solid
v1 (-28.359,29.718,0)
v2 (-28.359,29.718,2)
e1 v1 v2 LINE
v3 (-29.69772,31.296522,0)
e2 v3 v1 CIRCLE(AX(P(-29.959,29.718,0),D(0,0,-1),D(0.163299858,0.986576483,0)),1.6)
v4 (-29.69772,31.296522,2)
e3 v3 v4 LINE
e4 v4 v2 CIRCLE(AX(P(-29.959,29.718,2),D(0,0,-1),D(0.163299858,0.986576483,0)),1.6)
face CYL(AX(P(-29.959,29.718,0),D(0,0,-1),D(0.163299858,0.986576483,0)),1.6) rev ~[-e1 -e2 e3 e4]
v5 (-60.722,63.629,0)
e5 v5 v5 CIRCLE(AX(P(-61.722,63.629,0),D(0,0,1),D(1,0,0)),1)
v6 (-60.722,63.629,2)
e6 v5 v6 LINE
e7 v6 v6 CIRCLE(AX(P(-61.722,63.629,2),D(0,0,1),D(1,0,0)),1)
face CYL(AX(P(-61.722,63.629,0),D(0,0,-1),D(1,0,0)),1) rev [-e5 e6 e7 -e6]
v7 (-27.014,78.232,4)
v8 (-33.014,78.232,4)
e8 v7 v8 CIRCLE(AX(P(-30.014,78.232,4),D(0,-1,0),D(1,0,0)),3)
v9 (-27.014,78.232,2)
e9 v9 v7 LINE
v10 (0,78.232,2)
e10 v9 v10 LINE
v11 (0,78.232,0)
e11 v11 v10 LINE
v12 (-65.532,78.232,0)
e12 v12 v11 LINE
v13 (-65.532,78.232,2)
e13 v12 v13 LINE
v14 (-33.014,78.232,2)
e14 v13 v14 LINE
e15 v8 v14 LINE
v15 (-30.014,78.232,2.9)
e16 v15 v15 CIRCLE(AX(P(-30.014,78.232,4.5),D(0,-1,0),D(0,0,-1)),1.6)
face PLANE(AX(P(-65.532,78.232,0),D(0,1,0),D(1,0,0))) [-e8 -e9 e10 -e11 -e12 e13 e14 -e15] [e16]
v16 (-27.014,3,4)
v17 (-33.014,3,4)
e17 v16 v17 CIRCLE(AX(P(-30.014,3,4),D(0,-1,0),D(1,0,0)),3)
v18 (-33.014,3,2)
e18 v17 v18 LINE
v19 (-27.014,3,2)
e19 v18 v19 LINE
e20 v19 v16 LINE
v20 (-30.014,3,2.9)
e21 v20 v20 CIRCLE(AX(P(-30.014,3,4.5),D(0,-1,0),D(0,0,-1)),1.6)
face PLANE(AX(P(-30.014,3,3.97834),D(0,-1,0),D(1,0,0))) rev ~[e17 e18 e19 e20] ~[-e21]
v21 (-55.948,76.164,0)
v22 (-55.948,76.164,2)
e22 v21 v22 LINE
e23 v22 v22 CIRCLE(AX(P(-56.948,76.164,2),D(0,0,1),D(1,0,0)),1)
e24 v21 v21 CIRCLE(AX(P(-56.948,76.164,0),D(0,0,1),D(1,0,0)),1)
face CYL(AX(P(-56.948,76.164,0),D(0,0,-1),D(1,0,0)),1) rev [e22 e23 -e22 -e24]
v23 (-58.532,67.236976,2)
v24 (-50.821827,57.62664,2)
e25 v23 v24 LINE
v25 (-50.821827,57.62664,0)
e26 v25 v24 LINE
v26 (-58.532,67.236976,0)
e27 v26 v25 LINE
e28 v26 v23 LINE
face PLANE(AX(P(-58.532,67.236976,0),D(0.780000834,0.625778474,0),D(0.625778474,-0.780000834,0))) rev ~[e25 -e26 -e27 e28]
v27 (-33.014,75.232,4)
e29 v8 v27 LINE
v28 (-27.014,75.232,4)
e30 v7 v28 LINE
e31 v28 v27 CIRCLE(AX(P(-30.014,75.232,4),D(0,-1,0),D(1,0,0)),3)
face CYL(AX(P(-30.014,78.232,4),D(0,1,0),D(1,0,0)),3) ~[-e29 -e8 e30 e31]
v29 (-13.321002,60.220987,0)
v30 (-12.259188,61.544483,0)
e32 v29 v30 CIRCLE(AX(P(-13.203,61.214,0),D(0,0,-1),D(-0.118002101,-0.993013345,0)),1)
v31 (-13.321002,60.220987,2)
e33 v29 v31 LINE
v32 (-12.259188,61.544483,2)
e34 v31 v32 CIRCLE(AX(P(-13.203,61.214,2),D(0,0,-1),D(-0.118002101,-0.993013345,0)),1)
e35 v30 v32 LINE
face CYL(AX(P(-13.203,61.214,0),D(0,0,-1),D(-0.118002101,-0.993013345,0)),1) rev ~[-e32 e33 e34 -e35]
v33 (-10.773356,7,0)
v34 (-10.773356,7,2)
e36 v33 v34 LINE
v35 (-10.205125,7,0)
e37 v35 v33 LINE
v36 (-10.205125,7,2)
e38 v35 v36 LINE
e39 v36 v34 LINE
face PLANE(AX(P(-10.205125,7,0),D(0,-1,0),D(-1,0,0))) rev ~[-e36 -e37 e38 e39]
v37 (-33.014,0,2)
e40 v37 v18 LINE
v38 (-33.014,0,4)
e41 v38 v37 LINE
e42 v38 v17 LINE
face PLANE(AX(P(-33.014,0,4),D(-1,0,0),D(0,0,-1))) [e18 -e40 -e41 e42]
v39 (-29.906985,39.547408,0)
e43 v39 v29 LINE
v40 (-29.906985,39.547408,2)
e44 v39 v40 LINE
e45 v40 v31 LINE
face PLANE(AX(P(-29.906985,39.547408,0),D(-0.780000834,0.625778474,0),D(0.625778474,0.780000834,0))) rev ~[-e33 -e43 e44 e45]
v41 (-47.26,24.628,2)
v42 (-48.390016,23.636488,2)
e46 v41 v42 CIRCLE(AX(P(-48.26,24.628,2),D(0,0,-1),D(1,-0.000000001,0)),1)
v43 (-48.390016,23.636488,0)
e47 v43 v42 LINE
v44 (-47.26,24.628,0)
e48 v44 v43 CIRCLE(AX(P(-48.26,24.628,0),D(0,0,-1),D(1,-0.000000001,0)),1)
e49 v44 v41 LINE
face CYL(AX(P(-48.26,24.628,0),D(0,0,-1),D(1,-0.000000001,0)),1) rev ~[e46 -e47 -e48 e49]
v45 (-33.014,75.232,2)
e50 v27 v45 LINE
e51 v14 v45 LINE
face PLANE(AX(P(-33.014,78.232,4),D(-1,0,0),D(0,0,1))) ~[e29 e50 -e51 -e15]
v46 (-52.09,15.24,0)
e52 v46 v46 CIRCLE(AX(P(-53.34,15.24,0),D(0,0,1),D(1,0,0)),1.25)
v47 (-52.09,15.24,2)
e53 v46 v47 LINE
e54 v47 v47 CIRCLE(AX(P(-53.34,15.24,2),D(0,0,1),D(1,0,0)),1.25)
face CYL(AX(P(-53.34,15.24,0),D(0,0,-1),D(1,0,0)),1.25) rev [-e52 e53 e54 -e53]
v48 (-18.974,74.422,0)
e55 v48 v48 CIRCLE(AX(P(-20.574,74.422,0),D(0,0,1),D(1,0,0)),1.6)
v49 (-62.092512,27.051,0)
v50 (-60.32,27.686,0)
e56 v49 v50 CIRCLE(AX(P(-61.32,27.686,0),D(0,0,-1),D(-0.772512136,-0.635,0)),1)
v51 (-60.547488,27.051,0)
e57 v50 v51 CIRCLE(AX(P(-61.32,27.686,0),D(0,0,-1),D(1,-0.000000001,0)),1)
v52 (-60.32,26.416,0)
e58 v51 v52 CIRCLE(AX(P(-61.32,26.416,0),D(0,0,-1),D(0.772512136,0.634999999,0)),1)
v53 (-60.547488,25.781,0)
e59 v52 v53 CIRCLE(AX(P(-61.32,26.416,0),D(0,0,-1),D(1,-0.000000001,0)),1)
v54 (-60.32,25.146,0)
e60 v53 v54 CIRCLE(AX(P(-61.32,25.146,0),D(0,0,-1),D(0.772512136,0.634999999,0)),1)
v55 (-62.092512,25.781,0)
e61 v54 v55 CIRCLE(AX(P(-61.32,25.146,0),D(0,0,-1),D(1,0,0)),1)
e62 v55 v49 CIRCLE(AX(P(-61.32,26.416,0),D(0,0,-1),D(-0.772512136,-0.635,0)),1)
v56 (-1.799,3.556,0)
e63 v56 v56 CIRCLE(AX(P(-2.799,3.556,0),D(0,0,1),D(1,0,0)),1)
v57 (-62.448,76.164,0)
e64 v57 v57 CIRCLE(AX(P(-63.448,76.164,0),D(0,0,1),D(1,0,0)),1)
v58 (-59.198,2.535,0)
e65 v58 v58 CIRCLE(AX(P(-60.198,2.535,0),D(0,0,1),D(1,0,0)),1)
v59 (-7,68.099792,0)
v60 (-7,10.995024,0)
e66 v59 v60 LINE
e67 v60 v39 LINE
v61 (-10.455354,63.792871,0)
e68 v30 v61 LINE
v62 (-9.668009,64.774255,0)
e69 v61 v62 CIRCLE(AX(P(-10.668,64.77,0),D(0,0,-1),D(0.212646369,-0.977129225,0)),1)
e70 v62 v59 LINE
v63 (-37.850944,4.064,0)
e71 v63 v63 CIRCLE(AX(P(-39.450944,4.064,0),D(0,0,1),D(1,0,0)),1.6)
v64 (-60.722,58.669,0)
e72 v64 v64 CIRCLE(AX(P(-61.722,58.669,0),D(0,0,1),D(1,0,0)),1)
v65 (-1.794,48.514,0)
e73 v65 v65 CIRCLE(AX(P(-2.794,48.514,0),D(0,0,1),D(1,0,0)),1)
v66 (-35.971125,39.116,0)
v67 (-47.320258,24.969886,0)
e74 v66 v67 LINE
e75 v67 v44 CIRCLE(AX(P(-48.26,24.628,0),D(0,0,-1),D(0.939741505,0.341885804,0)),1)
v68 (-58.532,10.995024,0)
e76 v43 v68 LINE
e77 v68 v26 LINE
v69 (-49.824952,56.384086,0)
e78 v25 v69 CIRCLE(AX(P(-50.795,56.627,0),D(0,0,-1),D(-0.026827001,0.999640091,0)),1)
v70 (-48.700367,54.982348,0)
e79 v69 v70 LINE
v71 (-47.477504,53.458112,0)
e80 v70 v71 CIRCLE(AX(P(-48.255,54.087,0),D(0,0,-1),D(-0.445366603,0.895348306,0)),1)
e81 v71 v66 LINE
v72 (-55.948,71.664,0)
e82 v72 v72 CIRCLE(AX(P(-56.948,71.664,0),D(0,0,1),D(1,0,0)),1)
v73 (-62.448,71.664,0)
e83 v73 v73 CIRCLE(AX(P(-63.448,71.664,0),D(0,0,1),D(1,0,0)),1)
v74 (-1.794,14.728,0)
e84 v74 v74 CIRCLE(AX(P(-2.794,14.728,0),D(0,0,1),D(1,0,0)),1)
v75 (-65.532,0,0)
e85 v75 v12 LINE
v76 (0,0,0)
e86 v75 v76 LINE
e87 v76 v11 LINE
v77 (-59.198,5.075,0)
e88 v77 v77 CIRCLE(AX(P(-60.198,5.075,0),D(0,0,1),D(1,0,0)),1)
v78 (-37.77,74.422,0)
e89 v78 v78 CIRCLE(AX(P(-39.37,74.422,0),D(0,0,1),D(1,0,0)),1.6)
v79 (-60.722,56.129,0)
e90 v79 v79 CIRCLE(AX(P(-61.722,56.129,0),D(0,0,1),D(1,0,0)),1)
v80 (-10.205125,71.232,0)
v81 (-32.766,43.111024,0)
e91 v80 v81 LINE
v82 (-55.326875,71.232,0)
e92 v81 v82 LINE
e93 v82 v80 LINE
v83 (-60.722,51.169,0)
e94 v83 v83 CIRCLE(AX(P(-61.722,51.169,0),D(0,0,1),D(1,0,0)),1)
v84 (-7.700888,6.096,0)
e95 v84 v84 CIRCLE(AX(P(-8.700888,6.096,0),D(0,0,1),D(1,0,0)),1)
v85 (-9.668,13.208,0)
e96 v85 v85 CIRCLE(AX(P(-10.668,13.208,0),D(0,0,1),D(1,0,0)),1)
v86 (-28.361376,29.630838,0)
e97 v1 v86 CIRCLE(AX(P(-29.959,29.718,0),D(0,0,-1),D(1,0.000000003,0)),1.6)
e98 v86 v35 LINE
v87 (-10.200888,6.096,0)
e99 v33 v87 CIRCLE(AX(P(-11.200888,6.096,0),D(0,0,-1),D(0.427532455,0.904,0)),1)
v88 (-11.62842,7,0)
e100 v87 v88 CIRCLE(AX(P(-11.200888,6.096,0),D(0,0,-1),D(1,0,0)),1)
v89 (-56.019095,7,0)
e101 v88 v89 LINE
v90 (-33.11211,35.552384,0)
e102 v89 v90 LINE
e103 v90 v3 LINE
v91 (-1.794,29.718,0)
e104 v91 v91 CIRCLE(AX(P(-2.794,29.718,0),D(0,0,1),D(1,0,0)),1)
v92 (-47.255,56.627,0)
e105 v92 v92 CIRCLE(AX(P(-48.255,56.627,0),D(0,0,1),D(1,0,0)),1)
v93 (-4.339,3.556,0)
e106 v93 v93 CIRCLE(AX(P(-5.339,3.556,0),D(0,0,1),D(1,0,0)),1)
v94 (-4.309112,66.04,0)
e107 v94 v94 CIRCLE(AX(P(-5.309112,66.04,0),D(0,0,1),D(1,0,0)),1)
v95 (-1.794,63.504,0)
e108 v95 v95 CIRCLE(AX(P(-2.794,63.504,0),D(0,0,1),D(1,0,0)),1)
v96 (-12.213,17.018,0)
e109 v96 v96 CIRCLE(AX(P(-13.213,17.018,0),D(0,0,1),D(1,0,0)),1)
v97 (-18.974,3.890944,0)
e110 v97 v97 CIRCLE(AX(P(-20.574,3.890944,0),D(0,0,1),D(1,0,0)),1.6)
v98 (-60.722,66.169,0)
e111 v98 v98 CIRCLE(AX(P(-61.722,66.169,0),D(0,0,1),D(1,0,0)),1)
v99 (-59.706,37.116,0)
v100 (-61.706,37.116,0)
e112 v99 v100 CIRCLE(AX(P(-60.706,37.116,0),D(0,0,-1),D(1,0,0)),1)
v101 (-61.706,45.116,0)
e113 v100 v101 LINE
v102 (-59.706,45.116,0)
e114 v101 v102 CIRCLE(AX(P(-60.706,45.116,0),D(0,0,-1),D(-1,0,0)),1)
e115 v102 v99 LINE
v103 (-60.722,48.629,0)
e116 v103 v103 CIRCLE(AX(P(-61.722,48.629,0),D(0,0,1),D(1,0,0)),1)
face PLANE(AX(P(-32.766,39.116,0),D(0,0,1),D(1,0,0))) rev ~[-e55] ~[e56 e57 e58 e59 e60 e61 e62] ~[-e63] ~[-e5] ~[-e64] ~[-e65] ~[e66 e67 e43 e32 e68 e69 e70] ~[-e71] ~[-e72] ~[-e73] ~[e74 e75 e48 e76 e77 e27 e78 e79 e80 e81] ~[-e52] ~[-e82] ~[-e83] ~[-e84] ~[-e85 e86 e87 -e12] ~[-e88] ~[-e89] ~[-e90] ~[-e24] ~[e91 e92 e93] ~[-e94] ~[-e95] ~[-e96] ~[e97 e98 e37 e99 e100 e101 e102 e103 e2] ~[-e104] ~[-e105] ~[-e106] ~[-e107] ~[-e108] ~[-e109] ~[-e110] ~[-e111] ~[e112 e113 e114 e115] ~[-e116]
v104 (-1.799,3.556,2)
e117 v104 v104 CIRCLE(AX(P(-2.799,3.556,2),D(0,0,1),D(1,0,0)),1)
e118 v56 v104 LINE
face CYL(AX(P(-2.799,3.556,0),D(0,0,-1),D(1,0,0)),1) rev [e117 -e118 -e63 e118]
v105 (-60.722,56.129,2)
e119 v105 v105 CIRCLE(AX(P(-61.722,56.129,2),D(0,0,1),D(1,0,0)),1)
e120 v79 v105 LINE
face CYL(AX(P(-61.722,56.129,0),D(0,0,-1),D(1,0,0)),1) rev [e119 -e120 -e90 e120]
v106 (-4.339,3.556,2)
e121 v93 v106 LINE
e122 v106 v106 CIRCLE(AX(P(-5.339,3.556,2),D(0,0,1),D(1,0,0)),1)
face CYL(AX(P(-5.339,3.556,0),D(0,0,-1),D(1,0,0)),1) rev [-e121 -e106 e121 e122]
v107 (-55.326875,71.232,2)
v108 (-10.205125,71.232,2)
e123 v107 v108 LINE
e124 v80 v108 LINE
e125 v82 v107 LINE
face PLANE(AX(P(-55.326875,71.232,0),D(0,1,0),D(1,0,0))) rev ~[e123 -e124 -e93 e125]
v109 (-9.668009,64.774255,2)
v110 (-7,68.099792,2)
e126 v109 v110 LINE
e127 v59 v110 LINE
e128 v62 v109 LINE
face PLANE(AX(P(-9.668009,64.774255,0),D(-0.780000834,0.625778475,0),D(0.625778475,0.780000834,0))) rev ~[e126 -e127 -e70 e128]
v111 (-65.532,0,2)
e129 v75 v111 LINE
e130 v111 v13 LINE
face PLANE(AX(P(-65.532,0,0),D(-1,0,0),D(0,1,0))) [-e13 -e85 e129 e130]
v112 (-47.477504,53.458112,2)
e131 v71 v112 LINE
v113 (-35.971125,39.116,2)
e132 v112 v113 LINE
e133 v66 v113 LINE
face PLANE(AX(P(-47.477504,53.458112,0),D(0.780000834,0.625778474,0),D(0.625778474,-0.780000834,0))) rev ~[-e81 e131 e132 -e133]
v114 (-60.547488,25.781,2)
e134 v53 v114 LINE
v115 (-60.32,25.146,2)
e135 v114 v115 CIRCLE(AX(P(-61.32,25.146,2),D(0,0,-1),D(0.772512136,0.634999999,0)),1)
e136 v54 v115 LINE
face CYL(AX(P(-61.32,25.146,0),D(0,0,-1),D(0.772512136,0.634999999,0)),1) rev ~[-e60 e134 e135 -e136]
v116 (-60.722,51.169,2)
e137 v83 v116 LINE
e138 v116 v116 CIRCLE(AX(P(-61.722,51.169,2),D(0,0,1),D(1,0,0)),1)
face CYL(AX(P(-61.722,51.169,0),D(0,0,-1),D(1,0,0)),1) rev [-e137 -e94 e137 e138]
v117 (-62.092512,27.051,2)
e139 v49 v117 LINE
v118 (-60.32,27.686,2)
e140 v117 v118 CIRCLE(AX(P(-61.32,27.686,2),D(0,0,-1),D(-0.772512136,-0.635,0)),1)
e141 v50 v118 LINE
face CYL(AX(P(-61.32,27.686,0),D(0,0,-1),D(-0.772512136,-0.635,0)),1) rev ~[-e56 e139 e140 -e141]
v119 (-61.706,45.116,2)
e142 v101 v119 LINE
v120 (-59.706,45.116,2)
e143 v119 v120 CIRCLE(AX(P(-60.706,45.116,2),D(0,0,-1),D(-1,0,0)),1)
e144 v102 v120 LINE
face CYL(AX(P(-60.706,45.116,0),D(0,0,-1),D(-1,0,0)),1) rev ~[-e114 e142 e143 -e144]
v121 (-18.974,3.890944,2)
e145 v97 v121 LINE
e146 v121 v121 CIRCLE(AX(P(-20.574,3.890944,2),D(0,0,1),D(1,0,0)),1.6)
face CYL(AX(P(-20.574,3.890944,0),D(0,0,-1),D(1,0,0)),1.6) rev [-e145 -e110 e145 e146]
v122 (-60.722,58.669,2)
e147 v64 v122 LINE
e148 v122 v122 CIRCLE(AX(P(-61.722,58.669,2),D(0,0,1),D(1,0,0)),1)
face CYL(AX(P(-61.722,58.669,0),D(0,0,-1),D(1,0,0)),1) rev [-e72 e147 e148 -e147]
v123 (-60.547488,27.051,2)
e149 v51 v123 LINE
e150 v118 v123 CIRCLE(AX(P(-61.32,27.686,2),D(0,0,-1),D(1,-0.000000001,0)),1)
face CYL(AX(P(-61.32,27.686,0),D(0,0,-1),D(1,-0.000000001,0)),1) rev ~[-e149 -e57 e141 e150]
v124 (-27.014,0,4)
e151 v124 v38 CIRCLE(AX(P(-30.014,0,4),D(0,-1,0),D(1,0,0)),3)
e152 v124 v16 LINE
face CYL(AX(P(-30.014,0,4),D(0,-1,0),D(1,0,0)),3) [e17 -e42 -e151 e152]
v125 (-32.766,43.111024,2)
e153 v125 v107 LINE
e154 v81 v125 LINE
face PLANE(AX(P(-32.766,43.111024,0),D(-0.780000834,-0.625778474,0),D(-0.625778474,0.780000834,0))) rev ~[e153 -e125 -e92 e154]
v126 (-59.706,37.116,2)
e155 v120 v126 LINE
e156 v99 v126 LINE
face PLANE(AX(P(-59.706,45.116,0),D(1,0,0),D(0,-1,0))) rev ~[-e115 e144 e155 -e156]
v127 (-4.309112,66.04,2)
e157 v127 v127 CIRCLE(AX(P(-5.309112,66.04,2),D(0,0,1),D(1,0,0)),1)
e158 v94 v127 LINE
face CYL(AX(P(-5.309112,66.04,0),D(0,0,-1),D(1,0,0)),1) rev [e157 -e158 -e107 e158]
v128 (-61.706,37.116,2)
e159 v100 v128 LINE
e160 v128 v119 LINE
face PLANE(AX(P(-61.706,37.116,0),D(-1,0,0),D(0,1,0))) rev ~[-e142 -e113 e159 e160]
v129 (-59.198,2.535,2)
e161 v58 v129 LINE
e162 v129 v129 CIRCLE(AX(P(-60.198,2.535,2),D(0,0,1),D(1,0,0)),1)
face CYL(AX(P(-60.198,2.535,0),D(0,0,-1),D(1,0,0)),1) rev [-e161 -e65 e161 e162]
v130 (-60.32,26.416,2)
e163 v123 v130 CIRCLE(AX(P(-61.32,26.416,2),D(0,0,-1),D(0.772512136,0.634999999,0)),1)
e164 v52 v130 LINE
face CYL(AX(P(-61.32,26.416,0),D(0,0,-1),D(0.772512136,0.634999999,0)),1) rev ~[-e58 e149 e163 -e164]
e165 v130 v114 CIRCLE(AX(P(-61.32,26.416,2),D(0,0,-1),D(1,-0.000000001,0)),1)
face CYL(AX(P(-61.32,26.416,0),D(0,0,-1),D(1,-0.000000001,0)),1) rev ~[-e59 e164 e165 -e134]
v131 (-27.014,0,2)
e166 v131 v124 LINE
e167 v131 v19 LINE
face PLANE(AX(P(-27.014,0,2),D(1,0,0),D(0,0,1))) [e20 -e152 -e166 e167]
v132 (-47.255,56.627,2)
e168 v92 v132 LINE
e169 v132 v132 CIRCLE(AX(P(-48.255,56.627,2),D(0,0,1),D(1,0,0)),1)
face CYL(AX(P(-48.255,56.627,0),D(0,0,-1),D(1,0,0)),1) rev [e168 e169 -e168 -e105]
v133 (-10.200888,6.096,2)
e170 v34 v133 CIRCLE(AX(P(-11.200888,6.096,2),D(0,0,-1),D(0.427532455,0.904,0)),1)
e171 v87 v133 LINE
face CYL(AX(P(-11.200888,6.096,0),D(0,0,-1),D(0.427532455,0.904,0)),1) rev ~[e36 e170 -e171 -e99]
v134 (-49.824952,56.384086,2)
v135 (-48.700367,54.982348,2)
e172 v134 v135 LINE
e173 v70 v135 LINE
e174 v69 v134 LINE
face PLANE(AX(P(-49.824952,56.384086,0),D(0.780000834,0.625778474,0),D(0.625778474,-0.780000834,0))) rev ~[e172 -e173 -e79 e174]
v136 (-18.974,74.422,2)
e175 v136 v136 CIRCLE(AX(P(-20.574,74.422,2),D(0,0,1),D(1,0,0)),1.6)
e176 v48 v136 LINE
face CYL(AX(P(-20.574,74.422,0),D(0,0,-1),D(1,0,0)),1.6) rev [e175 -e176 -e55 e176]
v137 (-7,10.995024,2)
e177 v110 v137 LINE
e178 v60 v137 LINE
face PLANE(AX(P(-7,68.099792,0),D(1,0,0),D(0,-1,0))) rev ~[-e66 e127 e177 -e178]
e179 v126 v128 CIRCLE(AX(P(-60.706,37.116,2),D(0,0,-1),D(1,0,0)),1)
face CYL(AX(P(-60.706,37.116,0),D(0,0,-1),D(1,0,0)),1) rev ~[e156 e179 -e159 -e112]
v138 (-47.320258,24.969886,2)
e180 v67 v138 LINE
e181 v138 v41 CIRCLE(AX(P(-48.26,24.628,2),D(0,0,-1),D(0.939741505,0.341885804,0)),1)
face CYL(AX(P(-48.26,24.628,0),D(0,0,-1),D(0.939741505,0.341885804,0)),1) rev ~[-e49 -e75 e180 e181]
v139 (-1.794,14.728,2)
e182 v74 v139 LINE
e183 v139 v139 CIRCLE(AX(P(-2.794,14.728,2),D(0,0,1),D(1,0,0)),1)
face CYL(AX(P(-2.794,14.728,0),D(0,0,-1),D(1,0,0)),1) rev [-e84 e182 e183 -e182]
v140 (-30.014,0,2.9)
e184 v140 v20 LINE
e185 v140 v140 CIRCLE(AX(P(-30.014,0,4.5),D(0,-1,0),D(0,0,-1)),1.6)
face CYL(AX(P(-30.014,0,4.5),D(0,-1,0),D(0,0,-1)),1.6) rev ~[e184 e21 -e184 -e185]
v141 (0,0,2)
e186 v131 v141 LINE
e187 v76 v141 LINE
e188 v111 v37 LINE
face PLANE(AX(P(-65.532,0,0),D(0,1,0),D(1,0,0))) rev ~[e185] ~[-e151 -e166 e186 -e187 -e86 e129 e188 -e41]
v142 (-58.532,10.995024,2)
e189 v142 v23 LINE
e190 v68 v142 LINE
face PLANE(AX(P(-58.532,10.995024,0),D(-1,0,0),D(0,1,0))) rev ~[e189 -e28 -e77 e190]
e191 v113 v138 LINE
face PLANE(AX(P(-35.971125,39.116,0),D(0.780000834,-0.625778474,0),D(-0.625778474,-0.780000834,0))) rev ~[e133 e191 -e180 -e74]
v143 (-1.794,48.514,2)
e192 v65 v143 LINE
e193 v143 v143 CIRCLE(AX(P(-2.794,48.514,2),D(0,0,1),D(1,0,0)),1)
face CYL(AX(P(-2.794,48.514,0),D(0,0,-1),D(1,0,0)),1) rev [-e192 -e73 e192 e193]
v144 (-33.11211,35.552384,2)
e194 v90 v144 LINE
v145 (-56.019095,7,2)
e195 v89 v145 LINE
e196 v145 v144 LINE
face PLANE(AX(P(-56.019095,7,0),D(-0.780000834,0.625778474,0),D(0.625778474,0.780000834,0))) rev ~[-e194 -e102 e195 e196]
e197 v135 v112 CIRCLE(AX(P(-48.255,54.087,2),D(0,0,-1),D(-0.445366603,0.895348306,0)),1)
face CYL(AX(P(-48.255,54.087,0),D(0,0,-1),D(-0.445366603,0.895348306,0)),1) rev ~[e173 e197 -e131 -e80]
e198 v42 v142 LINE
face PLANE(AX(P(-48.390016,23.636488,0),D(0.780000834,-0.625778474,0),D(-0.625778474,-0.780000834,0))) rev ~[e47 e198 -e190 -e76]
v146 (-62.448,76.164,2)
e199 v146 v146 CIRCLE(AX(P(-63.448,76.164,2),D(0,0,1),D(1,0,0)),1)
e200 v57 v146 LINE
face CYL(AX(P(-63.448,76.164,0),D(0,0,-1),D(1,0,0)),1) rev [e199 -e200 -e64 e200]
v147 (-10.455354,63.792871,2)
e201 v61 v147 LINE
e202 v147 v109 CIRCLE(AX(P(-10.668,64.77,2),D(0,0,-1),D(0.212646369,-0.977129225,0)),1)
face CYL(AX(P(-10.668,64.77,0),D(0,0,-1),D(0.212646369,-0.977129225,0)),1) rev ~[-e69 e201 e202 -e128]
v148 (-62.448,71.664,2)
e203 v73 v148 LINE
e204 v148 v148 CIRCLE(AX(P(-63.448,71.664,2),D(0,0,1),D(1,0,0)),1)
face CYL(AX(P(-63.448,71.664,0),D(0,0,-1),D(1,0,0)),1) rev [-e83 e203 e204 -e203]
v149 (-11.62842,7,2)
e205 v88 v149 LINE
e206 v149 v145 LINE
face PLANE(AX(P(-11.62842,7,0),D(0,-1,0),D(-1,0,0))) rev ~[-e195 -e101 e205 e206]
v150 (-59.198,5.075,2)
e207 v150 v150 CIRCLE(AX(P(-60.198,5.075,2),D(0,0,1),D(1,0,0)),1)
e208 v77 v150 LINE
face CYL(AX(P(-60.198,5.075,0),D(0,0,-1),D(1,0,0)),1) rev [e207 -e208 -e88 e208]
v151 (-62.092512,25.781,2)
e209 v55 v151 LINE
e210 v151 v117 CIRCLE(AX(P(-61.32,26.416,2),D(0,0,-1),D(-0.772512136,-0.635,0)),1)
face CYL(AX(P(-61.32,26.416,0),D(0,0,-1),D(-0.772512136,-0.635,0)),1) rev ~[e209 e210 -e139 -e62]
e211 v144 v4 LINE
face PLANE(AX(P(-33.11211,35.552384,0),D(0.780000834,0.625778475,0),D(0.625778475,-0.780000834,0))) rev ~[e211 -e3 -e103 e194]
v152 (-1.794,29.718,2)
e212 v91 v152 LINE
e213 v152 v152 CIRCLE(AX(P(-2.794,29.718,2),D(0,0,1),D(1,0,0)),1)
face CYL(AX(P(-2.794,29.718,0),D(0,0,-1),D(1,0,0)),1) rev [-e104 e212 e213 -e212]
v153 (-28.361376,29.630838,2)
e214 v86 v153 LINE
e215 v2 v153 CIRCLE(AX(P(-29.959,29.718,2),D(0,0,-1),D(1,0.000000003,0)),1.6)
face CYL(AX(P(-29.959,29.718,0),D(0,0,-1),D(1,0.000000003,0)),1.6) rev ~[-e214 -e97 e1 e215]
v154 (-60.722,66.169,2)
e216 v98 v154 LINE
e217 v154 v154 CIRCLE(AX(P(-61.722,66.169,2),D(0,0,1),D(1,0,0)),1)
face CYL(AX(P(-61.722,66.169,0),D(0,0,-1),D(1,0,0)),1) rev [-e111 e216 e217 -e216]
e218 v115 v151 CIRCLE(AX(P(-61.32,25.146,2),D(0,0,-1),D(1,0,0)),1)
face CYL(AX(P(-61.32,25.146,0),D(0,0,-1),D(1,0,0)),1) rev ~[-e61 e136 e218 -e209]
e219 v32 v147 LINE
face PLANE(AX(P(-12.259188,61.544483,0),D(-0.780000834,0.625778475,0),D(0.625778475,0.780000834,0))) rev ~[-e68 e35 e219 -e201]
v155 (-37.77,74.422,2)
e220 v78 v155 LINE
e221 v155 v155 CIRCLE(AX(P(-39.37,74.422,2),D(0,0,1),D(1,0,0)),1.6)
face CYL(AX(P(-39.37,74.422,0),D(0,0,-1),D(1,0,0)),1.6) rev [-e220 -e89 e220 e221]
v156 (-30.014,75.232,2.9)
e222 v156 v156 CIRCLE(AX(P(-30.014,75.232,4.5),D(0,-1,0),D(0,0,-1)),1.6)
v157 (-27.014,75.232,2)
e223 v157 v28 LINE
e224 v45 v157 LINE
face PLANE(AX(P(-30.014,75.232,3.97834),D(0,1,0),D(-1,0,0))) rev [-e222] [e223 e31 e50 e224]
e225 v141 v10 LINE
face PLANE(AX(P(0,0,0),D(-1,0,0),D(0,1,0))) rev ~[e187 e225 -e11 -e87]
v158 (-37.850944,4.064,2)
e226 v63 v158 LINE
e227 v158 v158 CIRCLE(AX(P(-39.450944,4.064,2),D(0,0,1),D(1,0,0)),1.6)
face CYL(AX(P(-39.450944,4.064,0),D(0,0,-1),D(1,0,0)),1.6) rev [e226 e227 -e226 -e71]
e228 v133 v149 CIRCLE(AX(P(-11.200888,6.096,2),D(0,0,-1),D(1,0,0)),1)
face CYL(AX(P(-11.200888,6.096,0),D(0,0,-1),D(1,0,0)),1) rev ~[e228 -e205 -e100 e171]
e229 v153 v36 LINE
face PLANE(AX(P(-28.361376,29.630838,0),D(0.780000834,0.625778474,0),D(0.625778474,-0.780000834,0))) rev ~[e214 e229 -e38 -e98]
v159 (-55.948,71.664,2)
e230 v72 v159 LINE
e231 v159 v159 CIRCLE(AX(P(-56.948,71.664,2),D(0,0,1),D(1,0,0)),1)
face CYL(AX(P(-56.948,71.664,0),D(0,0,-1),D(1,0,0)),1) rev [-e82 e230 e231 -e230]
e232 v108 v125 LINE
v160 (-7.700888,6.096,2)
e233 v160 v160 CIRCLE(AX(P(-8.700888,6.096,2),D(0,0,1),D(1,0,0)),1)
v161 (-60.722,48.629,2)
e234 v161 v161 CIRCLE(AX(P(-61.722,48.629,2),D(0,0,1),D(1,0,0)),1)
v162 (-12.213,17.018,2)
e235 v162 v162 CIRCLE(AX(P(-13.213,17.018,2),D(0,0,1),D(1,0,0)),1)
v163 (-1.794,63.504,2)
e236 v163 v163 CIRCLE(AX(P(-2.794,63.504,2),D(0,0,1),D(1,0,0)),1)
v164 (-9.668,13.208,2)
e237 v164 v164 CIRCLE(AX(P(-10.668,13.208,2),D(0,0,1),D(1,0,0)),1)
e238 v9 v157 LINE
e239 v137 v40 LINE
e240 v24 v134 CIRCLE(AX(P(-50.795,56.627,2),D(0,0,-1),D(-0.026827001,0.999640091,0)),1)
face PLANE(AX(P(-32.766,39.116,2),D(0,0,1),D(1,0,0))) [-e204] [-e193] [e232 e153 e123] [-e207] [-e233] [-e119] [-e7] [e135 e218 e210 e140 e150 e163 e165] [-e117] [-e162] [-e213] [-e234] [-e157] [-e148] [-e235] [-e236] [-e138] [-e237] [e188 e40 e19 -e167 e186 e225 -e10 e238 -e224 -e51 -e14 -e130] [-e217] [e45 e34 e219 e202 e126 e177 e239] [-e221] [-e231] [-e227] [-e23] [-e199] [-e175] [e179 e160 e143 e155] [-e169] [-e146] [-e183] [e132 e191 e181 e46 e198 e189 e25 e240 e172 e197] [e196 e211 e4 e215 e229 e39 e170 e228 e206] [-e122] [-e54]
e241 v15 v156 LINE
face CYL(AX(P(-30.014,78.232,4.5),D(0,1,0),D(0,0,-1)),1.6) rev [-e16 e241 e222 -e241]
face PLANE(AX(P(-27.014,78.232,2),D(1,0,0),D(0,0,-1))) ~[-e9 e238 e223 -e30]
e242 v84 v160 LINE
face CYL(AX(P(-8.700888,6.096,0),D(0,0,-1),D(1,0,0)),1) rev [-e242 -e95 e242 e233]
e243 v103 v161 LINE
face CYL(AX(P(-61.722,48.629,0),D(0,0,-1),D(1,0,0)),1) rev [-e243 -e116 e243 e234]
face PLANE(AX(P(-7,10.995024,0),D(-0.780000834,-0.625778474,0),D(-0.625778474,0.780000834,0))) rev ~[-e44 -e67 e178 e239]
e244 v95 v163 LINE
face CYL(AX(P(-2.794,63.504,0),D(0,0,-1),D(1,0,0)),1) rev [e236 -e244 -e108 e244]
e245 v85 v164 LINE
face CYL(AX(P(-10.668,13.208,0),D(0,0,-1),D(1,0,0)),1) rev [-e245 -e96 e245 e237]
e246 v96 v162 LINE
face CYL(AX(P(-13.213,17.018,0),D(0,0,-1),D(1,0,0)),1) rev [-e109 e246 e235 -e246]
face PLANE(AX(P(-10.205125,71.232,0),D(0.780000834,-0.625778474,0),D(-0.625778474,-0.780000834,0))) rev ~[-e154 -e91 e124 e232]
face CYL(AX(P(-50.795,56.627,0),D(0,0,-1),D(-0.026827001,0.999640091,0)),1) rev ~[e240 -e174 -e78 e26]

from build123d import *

# Parameters (mm, degrees)
SKETCH3_W            = 65.532
SKETCH3_H            = 78.232
SKETCH3_R            = 1
SKETCH3_R_2          = 1.25
SKETCH3_R_3          = 1.6
BOSS_EXTRUDE10_DEPTH = 2
SKETCH5_R            = 1.6
BOSS_EXTRUDE11_DEPTH = 3


with BuildPart() as part:
    # Sketch3 → Boss-Extrude10 (new body)
    with BuildSketch(Plane.XY):
        with Locations((-32.766, 39.116)):
            Rectangle(SKETCH3_W, SKETCH3_H)
        with Locations((-60.198, 2.535)):
            Circle(SKETCH3_R, mode=Mode.SUBTRACT)
        with Locations((-60.198, 5.075)):
            Circle(SKETCH3_R, mode=Mode.SUBTRACT)
        with Locations((-53.34, 15.24)):
            Circle(SKETCH3_R_2, mode=Mode.SUBTRACT)
        with Locations((-39.450944, 4.064)):
            Circle(SKETCH3_R_3, mode=Mode.SUBTRACT)
        with BuildLine():
            ThreePointArc((-60.547487864, 25.781), (-60.378588258, 25.483259443), (-60.32, 25.146))
            ThreePointArc((-60.32, 25.146), (-61.657259443, 24.204588258), (-62.092512136, 25.781))
            ThreePointArc((-62.092512136, 25.781), (-62.32, 26.416), (-62.092512136, 27.051))
            ThreePointArc((-62.092512136, 27.051), (-61.657259443, 28.627411742), (-60.32, 27.686))
            ThreePointArc((-60.32, 27.686), (-60.378588258, 27.348740557), (-60.547487864, 27.051))
            ThreePointArc((-60.547487864, 27.051), (-60.378588258, 26.753259443), (-60.32, 26.416))
            ThreePointArc((-60.32, 26.416), (-60.378588258, 26.078740557), (-60.547487864, 25.781))
        make_face(mode=Mode.SUBTRACT)
        with BuildLine():
            Line((-11.628420455, 7), (-56.019094707, 7))
            Line((-56.019094707, 7), (-33.112109743, 35.552384115))
            Line((-33.112109743, 35.552384115), (-29.697720228, 31.296522373))
            ThreePointArc((-29.697720228, 31.296522373), (-28.738744364, 30.752879791), (-28.359, 29.718))
            ThreePointArc((-28.359, 29.718), (-28.359594089, 29.67440261), (-28.361375915, 29.630837597))
            Line((-28.361375915, 29.630837597), (-10.205124779, 7))
            Line((-10.205124779, 7), (-10.773355545, 7))
            ThreePointArc((-10.773355545, 7), (-10.356041134, 6.631008199), (-10.200888, 6.096))
            ThreePointArc((-10.200888, 6.096), (-11.735896199, 5.251153134), (-11.628420455, 7))
        make_face(mode=Mode.SUBTRACT)
        with Locations((-20.574, 3.890944)):
            Circle(SKETCH3_R_3, mode=Mode.SUBTRACT)
        with Locations((-8.700888, 6.096)):
            Circle(SKETCH3_R, mode=Mode.SUBTRACT)
        with Locations((-5.339, 3.556)):
            Circle(SKETCH3_R, mode=Mode.SUBTRACT)
        with Locations((-2.799, 3.556)):
            Circle(SKETCH3_R, mode=Mode.SUBTRACT)
        with Locations((-10.668, 13.208)):
            Circle(SKETCH3_R, mode=Mode.SUBTRACT)
        with Locations((-13.213, 17.018)):
            Circle(SKETCH3_R, mode=Mode.SUBTRACT)
        with Locations((-2.794, 14.728)):
            Circle(SKETCH3_R, mode=Mode.SUBTRACT)
        with Locations((-2.794, 29.718)):
            Circle(SKETCH3_R, mode=Mode.SUBTRACT)
        with BuildLine():
            ThreePointArc((-61.706, 45.116), (-60.706, 46.116), (-59.706, 45.116))
            Line((-59.706, 45.116), (-59.706, 37.116))
            ThreePointArc((-59.706, 37.116), (-60.706, 36.116), (-61.706, 37.116))
            Line((-61.706, 37.116), (-61.706, 45.116))
        make_face(mode=Mode.SUBTRACT)
        with Locations((-61.722, 48.629)):
            Circle(SKETCH3_R, mode=Mode.SUBTRACT)
        with Locations((-61.722, 51.169)):
            Circle(SKETCH3_R, mode=Mode.SUBTRACT)
        with Locations((-61.722, 56.129)):
            Circle(SKETCH3_R, mode=Mode.SUBTRACT)
        with Locations((-61.722, 58.669)):
            Circle(SKETCH3_R, mode=Mode.SUBTRACT)
        with BuildLine():
            Line((-58.532, 10.995023961), (-58.532, 67.236976039))
            Line((-58.532, 67.236976039), (-50.821827001, 57.626640091))
            ThreePointArc((-50.821827001, 57.626640091), (-50.014999166, 57.252778474), (-49.824952048, 56.384086494))
            Line((-49.824952048, 56.384086494), (-48.700366603, 54.982348306))
            ThreePointArc((-48.700366603, 54.982348306), (-47.474999166, 54.712778474), (-47.477503777, 53.458112393))
            Line((-47.477503777, 53.458112393), (-35.971124779, 39.116))
            Line((-35.971124779, 39.116), (-47.320258494, 24.969885803))
            ThreePointArc((-47.320258494, 24.969885803), (-47.275179837, 24.801577784), (-47.26, 24.628))
            ThreePointArc((-47.26, 24.628), (-47.600460693, 23.876329925), (-48.390015804, 23.636488078))
            Line((-48.390015804, 23.636488078), (-58.532, 10.995023961))
        make_face(mode=Mode.SUBTRACT)
        with Locations((-48.255, 56.627)):
            Circle(SKETCH3_R, mode=Mode.SUBTRACT)
        Polygon((-32.766, 43.111023961), (-55.326875221, 71.232), (-10.205124779, 71.232), align=None, mode=Mode.SUBTRACT)
        with Locations((-61.722, 63.629)):
            Circle(SKETCH3_R, mode=Mode.SUBTRACT)
        with Locations((-61.722, 66.169)):
            Circle(SKETCH3_R, mode=Mode.SUBTRACT)
        with Locations((-63.448, 71.664)):
            Circle(SKETCH3_R, mode=Mode.SUBTRACT)
        with Locations((-63.448, 76.164)):
            Circle(SKETCH3_R, mode=Mode.SUBTRACT)
        with Locations((-56.948, 71.664)):
            Circle(SKETCH3_R, mode=Mode.SUBTRACT)
        with Locations((-56.948, 76.164)):
            Circle(SKETCH3_R, mode=Mode.SUBTRACT)
        with Locations((-39.37, 74.422)):
            Circle(SKETCH3_R_3, mode=Mode.SUBTRACT)
        with BuildLine():
            Line((-9.668009055, 64.774255485), (-7, 68.099792192))
            Line((-7, 68.099792192), (-7, 10.995023961))
            Line((-7, 10.995023961), (-29.906984964, 39.547408077))
            Line((-29.906984964, 39.547408077), (-13.321002101, 60.220986655))
            ThreePointArc((-13.321002101, 60.220986655), (-13.983000834, 61.839778474), (-12.259188179, 61.544483353))
            Line((-12.259188179, 61.544483353), (-10.455353631, 63.792870775))
            ThreePointArc((-10.455353631, 63.792870775), (-11.448000834, 65.395778474), (-9.668009055, 64.774255485))
        make_face(mode=Mode.SUBTRACT)
        with Locations((-2.794, 48.514)):
            Circle(SKETCH3_R, mode=Mode.SUBTRACT)
        with Locations((-20.574, 74.422)):
            Circle(SKETCH3_R_3, mode=Mode.SUBTRACT)
        with Locations((-2.794, 63.504)):
            Circle(SKETCH3_R, mode=Mode.SUBTRACT)
        with Locations((-5.309112, 66.04)):
            Circle(SKETCH3_R, mode=Mode.SUBTRACT)
    extrude(amount=BOSS_EXTRUDE10_DEPTH)

    # Sketch5 → Boss-Extrude11 (add)
    with BuildSketch(Plane.XZ):
        with BuildLine():
            Line((-33.014, 2), (-27.014, 2))
            Line((-27.014, 2), (-27.014, 4))
            ThreePointArc((-27.014, 4), (-30.014, 7), (-33.014, 4))
            Line((-33.014, 4), (-33.014, 2))
        make_face()
        with Locations(Location((-30.014, 4.5, 0), (0, 0, 270))):
            Circle(SKETCH5_R, mode=Mode.SUBTRACT)
    boss_extrude11 = extrude(amount=-BOSS_EXTRUDE11_DEPTH)

    # Mirror1: Boss-Extrude11 across plane
    add(boss_extrude11.mirror(Plane.ZX.offset(39.116)))


solid = part.part
